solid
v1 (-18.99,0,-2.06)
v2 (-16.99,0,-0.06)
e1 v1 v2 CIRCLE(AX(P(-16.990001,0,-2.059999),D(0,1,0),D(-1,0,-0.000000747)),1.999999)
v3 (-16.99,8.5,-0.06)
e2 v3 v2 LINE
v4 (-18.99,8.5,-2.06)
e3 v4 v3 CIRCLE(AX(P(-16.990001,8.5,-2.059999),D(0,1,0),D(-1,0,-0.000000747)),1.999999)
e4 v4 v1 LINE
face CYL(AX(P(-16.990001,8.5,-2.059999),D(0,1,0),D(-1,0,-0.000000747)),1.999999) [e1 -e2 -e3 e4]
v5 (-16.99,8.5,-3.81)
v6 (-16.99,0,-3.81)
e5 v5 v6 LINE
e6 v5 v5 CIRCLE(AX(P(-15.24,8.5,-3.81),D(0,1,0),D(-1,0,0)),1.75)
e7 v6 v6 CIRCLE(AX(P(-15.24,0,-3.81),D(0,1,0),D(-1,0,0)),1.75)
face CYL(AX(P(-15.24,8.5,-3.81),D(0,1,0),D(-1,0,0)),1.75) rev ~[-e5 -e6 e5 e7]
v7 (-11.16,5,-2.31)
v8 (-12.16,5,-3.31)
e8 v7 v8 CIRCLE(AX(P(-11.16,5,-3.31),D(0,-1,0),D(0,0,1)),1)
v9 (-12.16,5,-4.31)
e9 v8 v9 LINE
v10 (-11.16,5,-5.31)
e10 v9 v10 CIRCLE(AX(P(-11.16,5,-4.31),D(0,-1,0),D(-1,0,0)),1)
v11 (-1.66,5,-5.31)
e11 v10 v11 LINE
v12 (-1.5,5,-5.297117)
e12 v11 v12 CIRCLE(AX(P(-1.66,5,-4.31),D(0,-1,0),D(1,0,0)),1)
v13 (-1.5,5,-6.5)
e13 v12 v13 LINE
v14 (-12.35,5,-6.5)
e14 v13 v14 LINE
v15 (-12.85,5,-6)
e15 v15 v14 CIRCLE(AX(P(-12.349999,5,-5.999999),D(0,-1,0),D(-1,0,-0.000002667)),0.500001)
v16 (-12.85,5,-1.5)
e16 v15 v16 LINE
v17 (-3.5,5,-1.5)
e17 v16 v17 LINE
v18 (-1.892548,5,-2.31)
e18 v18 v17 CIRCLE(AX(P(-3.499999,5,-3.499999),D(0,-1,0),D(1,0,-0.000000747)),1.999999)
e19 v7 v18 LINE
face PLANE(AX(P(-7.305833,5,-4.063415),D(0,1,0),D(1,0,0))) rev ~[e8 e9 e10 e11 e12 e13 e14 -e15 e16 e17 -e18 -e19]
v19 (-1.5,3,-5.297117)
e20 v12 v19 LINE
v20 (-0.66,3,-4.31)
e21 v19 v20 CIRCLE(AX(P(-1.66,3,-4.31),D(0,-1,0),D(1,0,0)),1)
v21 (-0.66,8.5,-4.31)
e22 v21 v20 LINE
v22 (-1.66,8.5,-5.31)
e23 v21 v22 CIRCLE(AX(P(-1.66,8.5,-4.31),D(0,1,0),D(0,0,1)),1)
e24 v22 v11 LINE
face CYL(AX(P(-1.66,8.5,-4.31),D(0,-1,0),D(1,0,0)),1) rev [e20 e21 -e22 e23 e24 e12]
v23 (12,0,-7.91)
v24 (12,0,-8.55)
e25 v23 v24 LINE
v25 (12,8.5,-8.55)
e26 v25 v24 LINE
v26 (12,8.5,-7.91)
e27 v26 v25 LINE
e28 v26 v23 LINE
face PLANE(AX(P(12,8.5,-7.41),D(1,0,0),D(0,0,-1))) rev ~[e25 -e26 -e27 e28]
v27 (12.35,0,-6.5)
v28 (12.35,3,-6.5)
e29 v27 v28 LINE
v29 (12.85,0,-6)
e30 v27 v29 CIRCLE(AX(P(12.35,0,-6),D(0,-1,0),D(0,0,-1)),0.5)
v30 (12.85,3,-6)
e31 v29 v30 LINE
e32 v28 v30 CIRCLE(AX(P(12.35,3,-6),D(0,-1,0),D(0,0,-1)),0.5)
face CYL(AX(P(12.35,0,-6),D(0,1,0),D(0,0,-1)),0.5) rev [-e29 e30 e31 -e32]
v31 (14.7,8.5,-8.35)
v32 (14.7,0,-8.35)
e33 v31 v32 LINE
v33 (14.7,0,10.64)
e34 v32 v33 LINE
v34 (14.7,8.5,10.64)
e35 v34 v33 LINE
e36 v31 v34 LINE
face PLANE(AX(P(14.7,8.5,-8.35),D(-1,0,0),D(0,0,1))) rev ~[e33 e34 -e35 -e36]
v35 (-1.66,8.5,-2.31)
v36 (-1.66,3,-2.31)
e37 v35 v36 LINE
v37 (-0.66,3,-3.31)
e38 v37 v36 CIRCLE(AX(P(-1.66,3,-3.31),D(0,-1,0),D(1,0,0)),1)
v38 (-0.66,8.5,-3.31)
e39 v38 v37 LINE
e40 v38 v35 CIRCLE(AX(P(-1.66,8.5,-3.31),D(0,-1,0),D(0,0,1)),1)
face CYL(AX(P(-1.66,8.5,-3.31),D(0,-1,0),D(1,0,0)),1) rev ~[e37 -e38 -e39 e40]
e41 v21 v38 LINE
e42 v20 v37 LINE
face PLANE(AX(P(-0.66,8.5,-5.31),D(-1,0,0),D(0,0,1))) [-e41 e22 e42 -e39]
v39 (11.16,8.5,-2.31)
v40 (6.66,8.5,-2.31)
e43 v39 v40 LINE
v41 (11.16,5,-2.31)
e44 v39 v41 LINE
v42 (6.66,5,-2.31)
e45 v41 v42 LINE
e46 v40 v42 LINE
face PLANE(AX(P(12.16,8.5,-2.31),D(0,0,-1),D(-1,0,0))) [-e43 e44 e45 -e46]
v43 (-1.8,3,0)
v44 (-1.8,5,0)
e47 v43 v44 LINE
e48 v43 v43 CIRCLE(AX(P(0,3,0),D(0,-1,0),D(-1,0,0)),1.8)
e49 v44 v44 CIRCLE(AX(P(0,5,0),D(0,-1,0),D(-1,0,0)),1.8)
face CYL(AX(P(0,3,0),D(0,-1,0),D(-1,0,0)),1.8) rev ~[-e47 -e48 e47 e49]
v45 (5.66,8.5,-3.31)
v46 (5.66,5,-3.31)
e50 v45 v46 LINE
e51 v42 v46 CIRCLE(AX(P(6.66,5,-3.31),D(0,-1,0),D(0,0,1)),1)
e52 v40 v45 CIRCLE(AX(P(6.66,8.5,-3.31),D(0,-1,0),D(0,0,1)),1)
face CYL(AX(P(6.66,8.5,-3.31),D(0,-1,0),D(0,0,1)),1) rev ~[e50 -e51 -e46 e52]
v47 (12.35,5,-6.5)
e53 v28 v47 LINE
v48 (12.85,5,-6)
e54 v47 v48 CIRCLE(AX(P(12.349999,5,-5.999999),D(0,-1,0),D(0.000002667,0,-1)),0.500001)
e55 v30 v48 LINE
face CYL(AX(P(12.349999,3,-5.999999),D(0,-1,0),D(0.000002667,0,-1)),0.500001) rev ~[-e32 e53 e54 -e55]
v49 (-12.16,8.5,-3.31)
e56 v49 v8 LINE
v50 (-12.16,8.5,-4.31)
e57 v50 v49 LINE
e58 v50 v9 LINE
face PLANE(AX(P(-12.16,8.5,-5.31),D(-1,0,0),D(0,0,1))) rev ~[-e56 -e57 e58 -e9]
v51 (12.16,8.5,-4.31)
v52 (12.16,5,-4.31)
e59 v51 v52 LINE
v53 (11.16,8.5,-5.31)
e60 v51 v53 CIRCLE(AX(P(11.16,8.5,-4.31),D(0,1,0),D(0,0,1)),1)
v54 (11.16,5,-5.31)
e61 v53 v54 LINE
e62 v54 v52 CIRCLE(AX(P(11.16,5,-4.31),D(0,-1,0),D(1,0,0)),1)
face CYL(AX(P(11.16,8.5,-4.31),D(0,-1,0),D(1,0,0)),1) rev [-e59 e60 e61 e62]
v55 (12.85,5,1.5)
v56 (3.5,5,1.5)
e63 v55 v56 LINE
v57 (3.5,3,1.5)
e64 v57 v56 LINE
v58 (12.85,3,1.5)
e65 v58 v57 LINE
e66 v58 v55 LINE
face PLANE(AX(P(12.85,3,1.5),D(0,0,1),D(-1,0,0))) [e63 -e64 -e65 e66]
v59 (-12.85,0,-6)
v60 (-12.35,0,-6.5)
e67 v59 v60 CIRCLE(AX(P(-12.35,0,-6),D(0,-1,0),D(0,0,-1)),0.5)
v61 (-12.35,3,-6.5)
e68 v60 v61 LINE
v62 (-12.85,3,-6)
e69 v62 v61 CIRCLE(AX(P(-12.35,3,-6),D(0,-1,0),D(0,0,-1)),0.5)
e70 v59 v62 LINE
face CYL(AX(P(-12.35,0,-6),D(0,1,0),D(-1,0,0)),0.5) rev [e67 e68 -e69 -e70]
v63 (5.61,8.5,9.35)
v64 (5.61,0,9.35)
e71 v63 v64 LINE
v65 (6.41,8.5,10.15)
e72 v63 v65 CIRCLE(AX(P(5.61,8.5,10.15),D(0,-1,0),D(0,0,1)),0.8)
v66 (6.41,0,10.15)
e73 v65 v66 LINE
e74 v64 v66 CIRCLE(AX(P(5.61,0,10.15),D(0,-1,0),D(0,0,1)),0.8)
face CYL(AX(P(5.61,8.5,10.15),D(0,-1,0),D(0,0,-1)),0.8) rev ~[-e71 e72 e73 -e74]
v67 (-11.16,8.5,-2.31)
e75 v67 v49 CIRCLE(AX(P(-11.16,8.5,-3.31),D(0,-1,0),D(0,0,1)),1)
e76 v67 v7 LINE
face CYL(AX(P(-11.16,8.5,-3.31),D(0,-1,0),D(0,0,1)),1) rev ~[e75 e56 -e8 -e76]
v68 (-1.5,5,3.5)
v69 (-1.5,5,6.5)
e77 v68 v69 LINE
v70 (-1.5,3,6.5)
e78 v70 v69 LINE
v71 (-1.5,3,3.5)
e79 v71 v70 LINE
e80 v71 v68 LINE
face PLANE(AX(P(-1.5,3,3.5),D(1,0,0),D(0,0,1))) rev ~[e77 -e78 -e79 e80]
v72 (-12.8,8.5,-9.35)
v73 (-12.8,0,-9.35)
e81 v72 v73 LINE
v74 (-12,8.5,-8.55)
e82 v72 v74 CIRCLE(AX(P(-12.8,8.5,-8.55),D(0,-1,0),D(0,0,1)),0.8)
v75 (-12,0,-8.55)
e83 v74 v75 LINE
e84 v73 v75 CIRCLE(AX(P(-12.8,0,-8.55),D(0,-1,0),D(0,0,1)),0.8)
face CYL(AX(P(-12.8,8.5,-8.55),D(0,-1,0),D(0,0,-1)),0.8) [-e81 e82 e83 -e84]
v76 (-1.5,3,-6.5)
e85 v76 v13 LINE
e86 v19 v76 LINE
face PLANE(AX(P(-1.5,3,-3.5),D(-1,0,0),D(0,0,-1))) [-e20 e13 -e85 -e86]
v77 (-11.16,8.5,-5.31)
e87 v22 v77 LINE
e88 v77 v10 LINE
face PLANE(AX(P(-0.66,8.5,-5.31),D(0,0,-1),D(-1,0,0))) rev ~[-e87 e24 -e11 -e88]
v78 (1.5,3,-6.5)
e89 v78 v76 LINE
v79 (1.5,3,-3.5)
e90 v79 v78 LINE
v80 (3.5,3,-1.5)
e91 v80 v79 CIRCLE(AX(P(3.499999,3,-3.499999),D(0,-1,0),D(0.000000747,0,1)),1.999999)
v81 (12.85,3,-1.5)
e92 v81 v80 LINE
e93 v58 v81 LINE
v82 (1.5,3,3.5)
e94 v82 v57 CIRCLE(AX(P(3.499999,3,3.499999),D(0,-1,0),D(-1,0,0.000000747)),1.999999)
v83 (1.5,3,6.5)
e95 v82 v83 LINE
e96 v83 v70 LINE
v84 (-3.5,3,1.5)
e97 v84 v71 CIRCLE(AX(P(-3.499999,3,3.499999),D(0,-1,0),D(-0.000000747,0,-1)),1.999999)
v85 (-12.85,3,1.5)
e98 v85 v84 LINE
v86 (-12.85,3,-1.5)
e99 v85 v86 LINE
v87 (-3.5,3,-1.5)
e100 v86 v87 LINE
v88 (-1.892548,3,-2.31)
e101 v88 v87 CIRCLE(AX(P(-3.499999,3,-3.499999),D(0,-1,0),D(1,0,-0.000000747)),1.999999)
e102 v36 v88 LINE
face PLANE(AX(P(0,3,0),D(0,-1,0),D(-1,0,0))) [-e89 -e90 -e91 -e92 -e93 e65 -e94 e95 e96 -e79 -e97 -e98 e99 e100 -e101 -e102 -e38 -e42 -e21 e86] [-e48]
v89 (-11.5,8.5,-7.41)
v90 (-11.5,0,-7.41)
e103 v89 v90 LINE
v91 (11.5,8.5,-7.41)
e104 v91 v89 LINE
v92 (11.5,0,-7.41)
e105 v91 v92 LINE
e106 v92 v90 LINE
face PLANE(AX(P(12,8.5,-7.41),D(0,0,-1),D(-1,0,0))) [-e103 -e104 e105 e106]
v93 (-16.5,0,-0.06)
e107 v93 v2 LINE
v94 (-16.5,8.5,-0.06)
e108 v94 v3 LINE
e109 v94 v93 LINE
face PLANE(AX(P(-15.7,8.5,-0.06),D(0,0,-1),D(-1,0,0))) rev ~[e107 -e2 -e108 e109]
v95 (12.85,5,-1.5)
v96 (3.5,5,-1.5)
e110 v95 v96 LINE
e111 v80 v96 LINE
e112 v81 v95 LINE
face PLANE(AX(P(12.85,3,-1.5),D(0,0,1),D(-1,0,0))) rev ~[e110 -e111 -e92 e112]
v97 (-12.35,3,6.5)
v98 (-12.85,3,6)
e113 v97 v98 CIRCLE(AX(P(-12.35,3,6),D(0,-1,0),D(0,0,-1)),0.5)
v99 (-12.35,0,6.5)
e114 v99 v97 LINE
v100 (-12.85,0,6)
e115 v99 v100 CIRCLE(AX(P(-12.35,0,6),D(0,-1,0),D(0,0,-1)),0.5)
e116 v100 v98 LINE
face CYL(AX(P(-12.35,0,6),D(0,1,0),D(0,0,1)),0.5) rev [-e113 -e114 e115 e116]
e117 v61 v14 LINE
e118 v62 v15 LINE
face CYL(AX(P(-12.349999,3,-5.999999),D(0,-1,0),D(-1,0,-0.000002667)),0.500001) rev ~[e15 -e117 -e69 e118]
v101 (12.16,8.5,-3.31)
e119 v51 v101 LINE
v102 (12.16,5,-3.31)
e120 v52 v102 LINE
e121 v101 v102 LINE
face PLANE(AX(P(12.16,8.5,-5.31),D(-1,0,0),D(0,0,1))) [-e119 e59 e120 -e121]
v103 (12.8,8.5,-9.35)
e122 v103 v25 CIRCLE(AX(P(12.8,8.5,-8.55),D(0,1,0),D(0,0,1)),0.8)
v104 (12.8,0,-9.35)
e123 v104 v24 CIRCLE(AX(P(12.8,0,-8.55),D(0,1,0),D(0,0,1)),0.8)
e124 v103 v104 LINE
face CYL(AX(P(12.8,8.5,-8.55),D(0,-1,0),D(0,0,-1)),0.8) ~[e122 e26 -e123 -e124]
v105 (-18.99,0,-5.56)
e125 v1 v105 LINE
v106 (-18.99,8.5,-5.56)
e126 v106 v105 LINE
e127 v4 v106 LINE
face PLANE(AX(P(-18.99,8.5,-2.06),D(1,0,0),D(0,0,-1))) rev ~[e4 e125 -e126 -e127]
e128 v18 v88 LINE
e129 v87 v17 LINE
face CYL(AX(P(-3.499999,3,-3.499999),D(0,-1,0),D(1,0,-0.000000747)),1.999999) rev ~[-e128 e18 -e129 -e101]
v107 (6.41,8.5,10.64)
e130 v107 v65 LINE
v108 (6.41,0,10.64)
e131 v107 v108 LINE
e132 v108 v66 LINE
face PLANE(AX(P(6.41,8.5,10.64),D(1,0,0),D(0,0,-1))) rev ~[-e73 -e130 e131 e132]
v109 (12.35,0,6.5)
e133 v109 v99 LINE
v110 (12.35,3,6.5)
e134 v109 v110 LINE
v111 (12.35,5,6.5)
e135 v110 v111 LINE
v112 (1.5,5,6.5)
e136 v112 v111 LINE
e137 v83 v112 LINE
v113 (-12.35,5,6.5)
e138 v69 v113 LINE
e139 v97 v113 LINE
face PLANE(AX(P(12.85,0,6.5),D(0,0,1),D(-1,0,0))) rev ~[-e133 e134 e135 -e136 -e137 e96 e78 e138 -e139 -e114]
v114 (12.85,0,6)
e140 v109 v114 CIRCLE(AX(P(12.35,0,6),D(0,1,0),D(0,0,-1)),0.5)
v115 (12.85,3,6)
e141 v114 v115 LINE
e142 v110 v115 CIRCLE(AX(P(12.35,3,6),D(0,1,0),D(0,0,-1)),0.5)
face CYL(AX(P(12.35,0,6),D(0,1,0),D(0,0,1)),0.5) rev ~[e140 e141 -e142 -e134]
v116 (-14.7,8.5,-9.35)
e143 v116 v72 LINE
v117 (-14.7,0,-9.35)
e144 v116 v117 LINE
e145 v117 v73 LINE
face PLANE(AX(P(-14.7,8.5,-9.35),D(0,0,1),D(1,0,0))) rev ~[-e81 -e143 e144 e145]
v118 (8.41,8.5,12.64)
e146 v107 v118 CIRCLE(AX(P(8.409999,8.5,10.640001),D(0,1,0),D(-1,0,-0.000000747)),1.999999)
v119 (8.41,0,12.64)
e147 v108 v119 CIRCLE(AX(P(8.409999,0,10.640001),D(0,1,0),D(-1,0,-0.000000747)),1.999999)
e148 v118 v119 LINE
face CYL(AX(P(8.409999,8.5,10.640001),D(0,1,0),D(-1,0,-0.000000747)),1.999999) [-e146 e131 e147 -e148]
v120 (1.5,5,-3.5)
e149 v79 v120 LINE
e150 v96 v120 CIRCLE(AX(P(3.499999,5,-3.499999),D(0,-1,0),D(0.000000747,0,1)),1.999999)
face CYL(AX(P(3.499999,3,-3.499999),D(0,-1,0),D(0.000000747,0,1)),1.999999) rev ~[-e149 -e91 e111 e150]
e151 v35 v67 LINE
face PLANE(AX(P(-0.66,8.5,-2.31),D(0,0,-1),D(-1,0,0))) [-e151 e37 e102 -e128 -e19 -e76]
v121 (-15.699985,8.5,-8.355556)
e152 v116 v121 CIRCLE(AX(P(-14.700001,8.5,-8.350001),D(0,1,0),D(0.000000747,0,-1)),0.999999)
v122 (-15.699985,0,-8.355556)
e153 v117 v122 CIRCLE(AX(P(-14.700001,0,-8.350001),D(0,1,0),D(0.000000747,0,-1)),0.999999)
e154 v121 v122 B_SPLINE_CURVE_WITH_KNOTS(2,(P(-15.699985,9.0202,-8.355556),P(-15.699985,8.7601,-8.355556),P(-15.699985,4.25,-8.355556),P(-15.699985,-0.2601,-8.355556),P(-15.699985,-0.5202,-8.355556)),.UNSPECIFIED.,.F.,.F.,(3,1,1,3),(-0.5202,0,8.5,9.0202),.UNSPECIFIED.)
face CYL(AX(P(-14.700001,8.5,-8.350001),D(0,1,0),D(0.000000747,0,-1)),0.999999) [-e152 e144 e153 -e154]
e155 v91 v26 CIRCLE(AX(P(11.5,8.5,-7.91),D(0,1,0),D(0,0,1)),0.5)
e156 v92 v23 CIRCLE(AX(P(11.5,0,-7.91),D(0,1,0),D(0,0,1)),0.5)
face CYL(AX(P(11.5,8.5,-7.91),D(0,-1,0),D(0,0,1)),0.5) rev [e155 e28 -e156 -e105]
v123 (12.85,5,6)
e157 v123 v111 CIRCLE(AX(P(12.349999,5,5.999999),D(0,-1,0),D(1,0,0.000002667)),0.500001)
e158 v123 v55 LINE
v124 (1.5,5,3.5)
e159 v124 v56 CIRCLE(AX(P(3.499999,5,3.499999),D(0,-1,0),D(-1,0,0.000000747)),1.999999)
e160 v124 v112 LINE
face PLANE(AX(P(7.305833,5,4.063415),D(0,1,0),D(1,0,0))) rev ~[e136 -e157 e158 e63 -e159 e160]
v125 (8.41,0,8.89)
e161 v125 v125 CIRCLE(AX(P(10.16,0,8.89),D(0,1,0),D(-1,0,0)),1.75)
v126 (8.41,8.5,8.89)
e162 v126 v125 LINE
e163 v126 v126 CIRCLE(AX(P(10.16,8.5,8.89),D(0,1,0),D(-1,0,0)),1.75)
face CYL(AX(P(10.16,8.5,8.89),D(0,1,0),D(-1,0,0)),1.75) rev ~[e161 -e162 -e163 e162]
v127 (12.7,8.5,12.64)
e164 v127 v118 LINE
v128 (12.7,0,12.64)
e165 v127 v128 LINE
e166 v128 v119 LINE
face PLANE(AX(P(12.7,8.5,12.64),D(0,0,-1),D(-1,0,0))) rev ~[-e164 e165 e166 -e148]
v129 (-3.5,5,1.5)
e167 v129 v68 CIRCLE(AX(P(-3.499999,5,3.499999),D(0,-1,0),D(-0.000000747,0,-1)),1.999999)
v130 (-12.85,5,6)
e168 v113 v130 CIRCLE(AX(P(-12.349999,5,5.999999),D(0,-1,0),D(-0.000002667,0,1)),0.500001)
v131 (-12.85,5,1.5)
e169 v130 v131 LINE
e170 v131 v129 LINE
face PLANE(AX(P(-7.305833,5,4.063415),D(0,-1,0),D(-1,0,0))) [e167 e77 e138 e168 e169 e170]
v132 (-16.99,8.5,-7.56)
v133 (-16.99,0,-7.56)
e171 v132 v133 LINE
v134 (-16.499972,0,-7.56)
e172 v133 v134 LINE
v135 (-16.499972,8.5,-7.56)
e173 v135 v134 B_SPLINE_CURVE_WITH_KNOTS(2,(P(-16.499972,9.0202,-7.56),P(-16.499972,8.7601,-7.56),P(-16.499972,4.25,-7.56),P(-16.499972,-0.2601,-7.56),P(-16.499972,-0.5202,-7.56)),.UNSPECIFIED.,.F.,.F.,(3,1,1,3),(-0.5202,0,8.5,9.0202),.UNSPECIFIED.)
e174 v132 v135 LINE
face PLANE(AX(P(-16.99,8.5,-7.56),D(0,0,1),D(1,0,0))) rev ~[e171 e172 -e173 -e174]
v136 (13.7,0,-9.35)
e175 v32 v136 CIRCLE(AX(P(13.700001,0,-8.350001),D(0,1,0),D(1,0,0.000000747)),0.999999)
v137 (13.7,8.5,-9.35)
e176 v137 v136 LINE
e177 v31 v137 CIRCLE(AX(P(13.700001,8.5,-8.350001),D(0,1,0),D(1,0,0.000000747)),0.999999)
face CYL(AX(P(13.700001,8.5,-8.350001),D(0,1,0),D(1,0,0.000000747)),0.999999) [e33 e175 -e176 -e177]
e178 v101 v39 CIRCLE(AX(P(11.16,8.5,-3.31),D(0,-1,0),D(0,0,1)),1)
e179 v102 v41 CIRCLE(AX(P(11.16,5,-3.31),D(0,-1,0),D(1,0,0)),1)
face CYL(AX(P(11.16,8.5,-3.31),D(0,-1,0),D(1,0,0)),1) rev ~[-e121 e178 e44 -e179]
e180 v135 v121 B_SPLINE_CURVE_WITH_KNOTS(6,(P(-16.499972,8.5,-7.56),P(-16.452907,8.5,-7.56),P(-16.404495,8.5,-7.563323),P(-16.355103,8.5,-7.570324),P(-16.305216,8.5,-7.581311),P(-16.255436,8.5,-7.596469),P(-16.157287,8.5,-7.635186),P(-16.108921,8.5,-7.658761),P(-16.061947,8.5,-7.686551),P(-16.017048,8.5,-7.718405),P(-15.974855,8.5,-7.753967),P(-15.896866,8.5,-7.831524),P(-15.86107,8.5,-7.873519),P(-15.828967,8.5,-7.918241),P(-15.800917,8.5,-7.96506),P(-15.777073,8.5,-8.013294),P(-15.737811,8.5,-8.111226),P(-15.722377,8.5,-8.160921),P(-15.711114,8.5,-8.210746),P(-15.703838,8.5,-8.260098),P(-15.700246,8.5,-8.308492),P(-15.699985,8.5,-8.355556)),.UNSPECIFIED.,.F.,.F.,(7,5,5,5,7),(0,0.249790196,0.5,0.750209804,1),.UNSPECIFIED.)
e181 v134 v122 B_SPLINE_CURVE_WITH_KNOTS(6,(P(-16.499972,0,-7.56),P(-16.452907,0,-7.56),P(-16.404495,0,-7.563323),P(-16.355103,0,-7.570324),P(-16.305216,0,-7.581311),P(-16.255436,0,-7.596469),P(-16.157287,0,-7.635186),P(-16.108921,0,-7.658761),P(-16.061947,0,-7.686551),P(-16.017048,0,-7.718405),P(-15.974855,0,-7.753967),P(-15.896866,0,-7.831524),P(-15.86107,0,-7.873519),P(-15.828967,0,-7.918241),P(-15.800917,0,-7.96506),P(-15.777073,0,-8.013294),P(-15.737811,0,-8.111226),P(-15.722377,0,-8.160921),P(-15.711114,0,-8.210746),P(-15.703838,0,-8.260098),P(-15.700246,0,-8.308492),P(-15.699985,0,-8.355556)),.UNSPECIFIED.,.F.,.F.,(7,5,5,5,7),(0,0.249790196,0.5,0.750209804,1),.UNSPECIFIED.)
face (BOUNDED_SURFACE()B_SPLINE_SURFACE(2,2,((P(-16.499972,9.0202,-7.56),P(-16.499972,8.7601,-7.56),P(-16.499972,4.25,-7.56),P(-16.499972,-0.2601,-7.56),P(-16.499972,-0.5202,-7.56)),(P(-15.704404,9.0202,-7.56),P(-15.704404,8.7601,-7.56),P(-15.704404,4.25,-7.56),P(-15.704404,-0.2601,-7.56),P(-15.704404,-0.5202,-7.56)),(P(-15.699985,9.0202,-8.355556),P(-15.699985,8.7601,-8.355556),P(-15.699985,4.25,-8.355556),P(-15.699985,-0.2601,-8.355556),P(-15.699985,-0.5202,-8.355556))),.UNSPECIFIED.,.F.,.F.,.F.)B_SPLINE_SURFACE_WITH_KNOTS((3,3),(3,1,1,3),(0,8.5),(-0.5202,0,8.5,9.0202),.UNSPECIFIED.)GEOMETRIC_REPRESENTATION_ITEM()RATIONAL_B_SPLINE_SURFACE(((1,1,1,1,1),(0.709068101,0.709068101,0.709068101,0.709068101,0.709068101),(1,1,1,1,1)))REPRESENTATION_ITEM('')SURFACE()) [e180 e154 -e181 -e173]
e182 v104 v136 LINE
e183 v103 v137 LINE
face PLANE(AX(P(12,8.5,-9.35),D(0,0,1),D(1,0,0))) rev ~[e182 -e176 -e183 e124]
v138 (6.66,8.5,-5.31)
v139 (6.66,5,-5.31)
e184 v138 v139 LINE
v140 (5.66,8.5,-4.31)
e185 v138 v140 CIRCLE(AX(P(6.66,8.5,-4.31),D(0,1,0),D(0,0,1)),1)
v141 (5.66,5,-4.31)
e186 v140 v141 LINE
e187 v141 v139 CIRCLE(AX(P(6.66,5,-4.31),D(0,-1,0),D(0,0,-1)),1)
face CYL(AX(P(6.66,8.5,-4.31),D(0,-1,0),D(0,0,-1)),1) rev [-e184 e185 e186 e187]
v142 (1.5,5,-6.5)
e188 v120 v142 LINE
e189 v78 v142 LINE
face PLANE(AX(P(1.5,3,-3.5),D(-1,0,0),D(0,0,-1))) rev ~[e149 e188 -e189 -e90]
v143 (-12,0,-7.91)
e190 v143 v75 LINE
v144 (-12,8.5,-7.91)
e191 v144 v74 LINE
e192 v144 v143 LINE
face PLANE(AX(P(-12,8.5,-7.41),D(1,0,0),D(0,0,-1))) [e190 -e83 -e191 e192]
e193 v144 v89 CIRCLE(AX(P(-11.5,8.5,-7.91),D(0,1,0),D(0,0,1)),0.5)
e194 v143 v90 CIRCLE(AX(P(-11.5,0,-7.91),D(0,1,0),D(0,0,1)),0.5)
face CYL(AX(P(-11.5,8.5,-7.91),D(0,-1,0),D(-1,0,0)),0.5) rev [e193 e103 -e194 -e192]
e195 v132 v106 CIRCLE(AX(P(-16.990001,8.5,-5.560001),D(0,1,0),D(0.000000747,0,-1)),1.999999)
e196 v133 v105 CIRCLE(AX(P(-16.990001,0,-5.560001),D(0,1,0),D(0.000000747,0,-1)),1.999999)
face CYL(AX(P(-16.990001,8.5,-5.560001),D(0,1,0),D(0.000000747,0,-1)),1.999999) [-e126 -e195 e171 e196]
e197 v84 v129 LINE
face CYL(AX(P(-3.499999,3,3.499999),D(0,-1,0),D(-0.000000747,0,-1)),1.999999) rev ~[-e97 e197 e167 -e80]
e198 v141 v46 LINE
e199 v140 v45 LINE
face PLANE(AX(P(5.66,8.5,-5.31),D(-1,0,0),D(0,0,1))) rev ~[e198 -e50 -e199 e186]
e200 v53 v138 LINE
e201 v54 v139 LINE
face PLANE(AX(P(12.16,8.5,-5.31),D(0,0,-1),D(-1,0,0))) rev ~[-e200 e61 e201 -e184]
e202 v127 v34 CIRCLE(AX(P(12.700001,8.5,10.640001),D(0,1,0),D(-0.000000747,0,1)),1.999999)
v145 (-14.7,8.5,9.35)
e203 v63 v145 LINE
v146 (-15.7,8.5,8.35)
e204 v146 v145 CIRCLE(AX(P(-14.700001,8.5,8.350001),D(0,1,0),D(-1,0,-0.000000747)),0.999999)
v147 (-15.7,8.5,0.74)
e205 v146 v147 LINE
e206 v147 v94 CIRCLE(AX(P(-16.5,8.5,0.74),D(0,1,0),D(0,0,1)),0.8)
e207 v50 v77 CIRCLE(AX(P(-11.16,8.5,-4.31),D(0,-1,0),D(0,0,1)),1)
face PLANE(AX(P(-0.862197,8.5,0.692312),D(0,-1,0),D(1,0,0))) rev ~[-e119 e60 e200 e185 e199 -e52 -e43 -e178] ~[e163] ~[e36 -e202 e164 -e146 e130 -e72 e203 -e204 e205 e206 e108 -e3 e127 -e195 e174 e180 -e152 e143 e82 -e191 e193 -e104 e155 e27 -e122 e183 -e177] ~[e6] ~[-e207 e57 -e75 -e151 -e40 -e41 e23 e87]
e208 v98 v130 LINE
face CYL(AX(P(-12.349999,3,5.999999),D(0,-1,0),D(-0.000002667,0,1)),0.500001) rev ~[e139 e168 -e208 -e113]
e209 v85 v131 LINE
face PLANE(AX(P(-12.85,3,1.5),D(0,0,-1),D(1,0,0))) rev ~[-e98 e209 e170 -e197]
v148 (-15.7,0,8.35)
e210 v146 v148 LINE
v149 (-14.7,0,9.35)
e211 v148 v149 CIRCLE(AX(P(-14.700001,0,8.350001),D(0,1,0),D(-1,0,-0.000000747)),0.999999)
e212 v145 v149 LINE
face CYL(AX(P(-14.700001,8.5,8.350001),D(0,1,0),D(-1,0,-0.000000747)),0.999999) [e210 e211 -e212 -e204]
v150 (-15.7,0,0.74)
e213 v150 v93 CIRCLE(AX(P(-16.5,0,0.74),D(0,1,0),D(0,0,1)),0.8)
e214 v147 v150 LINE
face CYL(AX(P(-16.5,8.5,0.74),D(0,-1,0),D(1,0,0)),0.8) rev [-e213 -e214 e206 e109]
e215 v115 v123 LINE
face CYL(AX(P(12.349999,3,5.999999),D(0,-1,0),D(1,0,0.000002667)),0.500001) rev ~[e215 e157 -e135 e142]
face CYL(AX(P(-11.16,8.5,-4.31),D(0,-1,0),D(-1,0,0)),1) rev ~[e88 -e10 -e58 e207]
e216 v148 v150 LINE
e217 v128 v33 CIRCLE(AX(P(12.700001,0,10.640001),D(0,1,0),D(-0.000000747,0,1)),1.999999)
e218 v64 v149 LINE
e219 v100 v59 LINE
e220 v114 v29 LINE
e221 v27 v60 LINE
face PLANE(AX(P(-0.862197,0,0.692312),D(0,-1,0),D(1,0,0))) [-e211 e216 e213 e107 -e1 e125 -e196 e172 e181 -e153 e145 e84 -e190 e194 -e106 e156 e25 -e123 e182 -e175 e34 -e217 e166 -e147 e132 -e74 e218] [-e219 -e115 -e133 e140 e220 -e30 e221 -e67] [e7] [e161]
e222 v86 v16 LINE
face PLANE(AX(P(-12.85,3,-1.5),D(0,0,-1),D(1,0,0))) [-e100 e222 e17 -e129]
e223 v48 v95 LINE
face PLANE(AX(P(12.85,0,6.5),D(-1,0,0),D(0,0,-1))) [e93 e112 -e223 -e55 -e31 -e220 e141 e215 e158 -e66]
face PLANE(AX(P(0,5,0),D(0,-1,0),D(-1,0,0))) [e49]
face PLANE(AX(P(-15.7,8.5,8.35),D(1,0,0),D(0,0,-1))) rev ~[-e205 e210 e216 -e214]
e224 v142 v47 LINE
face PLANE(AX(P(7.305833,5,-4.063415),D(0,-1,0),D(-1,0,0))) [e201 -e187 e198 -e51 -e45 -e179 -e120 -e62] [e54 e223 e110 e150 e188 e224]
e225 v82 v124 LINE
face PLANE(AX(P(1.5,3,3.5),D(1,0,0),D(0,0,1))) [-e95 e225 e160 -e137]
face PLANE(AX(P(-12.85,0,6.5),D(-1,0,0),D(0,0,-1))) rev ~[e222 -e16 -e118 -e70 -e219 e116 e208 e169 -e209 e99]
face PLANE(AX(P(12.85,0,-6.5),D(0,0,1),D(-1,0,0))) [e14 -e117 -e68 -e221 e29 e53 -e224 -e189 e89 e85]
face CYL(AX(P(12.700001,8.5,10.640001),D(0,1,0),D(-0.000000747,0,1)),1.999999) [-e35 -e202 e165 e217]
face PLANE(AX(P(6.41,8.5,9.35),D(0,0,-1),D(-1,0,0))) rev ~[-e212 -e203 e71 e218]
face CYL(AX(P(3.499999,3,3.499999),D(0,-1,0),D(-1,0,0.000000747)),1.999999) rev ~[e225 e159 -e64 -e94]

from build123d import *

# Parameters (mm, degrees)
SKETCH006_R             = 1.75
SKETCH006_W             = 6.5
SKETCH006_H             = 3
SKETCH006_W_2           = 11.5
PAD001_DEPTH            = 8.5
FILLET004_R             = 1
FILLET005_R             = 0.8
FILLET006_R             = 0.5
SKETCH007_W             = 25.7
SKETCH007_H             = 13
POCKET002_DEPTH         = 3
FILLET007_R             = 0.5
SKETCH008_R             = 1.8
POCKET003_DEPTH         = 2
BODY001_PLACEMENT_ANGLE = 180


with BuildPart() as part:
    # Sketch006 → Pad001 (new body)
    with BuildSketch(Plane.XZ):
        with BuildLine():
            Line((15.7, 8.35), (15.7, -0.06))
            Line((15.7, -0.06), (16.99, -0.06))
            ThreePointArc((18.99, -2.06), (18.404214, -0.645786), (16.99, -0.06))
            Line((18.99, -2.06), (18.99, -5.56))
            ThreePointArc((16.99, -7.56), (18.404214, -6.974214), (18.99, -5.56))
            Line((16.99, -7.56), (15.7, -7.56))
            Line((15.7, -8.35), (15.7, -7.56))
            ThreePointArc((14.7, -9.35), (15.407107, -9.057107), (15.7, -8.35))
            Line((14.7, -9.35), (12, -9.35))
            Line((12, -7.41), (12, -9.35))
            Line((-12, -7.41), (12, -7.41))
            Line((-12, -7.41), (-12, -9.35))
            Line((-12, -9.35), (-13.7, -9.35))
            ThreePointArc((-14.7, -8.35), (-14.407107, -9.057107), (-13.7, -9.35))
            Line((-14.7, -8.35), (-14.7, 10.64))
            ThreePointArc((-12.7, 12.64), (-14.114214, 12.054214), (-14.7, 10.64))
            Line((-12.7, 12.64), (-8.41, 12.64))
            ThreePointArc((-6.41, 10.64), (-6.995786, 12.054214), (-8.41, 12.64))
            Line((-6.41, 10.64), (-6.41, 9.35))
            Line((-6.41, 9.35), (14.7, 9.35))
            ThreePointArc((15.7, 8.35), (15.407107, 9.057107), (14.7, 9.35))
        make_face()
        with Locations((-10.16, 8.89)):
            Circle(SKETCH006_R, mode=Mode.SUBTRACT)
        with Locations((15.24, -3.81)):
            Circle(SKETCH006_R, mode=Mode.SUBTRACT)
        with Locations((-8.91, -3.81)):
            Rectangle(SKETCH006_W, SKETCH006_H, mode=Mode.SUBTRACT)
        with Locations((6.41, -3.81)):
            Rectangle(SKETCH006_W_2, SKETCH006_H, mode=Mode.SUBTRACT)
    extrude(amount=-PAD001_DEPTH)

    # Fillet004
    fillet004_edges = [part.edges().sort_by_distance(p)[0] for p in [
        (12.16, 4.25, -2.31),
        (0.66, 4.25, -2.31),
        (-12.16, 4.25, -2.31),
        (-5.66, 4.25, -2.31),
        (12.16, 4.25, -5.31),
        (-5.66, 4.25, -5.31),
        (-12.16, 4.25, -5.31),
        (0.66, 4.25, -5.31),
    ]]
    fillet(fillet004_edges, radius=FILLET004_R)

    # Fillet005
    fillet005_edges = [part.edges().sort_by_distance(p)[0] for p in [
        (15.7, 4.25, -7.56),
        (15.7, 4.25, -0.06),
        (-6.41, 4.25, 9.35),
        (12, 4.25, -9.35),
        (-12, 4.25, -9.35),
    ]]
    fillet(fillet005_edges, radius=FILLET005_R)

    # Fillet006
    fillet006_edges = [part.edges().sort_by_distance(p)[0] for p in [
        (-12, 4.25, -7.41),
        (12, 4.25, -7.41),
    ]]
    fillet(fillet006_edges, radius=FILLET006_R)

    # Sketch007 (on Face47 of Fillet006) → Pocket002 (cut)
    with BuildSketch(Plane(origin=(0, 8.5, 0), x_dir=(1, 0, 0), z_dir=(0, 1, 0))):
        Rectangle(SKETCH007_W, SKETCH007_H)
    extrude(amount=-POCKET002_DEPTH, mode=Mode.SUBTRACT)

    # Fillet007
    fillet007_edges = [part.edges().sort_by_distance(p)[0] for p in [
        (12.85, 7, 6.5),
        (12.85, 7, -6.5),
        (-12.85, 7, 6.5),
        (-12.85, 7, -6.5),
    ]]
    fillet(fillet007_edges, radius=FILLET007_R)

    # Sketch008 (on Face39 of Fillet007) → Pocket003 (cut)
    with BuildSketch(Plane(origin=(0, 5.5, 0), x_dir=(1, 0, 0), z_dir=(0, 1, 0))):
        Circle(SKETCH008_R)
        with BuildLine():
            Line((1.5, -6.5), (12.35, -6.5))
            ThreePointArc((12.35, -6.5), (12.703553, -6.353553), (12.85, -6))
            Line((12.85, -6), (12.85, -1.5))
            Line((12.85, -1.5), (3.5, -1.5))
            ThreePointArc((3.5, -1.5), (2.085786, -2.085786), (1.5, -3.5))
            Line((1.5, -3.5), (1.5, -6.5))
        make_face()
        with BuildLine():
            Line((-1.5, -6.5), (-12.35, -6.5))
            ThreePointArc((-12.85, -6), (-12.703553, -6.353553), (-12.35, -6.5))
            Line((-12.85, -6), (-12.85, -1.5))
            Line((-12.85, -1.5), (-3.5, -1.5))
            ThreePointArc((-1.5, -3.5), (-2.085786, -2.085786), (-3.5, -1.5))
            Line((-1.5, -3.5), (-1.5, -6.5))
        make_face()
        with BuildLine():
            Line((-1.5, 6.5), (-12.35, 6.5))
            ThreePointArc((-12.35, 6.5), (-12.703553, 6.353553), (-12.85, 6))
            Line((-12.85, 6), (-12.85, 1.5))
            Line((-12.85, 1.5), (-3.5, 1.5))
            ThreePointArc((-3.5, 1.5), (-2.085786, 2.085786), (-1.5, 3.5))
            Line((-1.5, 3.5), (-1.5, 6.5))
        make_face()
        with BuildLine():
            Line((1.5, 6.5), (12.35, 6.5))
            ThreePointArc((12.85, 6), (12.703553, 6.353553), (12.35, 6.5))
            Line((12.85, 6), (12.85, 1.5))
            Line((12.85, 1.5), (3.5, 1.5))
            ThreePointArc((1.5, 3.5), (2.085786, 2.085786), (3.5, 1.5))
            Line((1.5, 3.5), (1.5, 6.5))
        make_face()
    extrude(amount=-POCKET003_DEPTH, mode=Mode.SUBTRACT)


with BuildPart() as part_1:
    # Body001 placement: moved
    add(part.part.moved(Location((0, 8.5, 0))).rotate(Axis((0, 8.5, 0), (0, 0, 1)), BODY001_PLACEMENT_ANGLE))


solid = part_1.part
